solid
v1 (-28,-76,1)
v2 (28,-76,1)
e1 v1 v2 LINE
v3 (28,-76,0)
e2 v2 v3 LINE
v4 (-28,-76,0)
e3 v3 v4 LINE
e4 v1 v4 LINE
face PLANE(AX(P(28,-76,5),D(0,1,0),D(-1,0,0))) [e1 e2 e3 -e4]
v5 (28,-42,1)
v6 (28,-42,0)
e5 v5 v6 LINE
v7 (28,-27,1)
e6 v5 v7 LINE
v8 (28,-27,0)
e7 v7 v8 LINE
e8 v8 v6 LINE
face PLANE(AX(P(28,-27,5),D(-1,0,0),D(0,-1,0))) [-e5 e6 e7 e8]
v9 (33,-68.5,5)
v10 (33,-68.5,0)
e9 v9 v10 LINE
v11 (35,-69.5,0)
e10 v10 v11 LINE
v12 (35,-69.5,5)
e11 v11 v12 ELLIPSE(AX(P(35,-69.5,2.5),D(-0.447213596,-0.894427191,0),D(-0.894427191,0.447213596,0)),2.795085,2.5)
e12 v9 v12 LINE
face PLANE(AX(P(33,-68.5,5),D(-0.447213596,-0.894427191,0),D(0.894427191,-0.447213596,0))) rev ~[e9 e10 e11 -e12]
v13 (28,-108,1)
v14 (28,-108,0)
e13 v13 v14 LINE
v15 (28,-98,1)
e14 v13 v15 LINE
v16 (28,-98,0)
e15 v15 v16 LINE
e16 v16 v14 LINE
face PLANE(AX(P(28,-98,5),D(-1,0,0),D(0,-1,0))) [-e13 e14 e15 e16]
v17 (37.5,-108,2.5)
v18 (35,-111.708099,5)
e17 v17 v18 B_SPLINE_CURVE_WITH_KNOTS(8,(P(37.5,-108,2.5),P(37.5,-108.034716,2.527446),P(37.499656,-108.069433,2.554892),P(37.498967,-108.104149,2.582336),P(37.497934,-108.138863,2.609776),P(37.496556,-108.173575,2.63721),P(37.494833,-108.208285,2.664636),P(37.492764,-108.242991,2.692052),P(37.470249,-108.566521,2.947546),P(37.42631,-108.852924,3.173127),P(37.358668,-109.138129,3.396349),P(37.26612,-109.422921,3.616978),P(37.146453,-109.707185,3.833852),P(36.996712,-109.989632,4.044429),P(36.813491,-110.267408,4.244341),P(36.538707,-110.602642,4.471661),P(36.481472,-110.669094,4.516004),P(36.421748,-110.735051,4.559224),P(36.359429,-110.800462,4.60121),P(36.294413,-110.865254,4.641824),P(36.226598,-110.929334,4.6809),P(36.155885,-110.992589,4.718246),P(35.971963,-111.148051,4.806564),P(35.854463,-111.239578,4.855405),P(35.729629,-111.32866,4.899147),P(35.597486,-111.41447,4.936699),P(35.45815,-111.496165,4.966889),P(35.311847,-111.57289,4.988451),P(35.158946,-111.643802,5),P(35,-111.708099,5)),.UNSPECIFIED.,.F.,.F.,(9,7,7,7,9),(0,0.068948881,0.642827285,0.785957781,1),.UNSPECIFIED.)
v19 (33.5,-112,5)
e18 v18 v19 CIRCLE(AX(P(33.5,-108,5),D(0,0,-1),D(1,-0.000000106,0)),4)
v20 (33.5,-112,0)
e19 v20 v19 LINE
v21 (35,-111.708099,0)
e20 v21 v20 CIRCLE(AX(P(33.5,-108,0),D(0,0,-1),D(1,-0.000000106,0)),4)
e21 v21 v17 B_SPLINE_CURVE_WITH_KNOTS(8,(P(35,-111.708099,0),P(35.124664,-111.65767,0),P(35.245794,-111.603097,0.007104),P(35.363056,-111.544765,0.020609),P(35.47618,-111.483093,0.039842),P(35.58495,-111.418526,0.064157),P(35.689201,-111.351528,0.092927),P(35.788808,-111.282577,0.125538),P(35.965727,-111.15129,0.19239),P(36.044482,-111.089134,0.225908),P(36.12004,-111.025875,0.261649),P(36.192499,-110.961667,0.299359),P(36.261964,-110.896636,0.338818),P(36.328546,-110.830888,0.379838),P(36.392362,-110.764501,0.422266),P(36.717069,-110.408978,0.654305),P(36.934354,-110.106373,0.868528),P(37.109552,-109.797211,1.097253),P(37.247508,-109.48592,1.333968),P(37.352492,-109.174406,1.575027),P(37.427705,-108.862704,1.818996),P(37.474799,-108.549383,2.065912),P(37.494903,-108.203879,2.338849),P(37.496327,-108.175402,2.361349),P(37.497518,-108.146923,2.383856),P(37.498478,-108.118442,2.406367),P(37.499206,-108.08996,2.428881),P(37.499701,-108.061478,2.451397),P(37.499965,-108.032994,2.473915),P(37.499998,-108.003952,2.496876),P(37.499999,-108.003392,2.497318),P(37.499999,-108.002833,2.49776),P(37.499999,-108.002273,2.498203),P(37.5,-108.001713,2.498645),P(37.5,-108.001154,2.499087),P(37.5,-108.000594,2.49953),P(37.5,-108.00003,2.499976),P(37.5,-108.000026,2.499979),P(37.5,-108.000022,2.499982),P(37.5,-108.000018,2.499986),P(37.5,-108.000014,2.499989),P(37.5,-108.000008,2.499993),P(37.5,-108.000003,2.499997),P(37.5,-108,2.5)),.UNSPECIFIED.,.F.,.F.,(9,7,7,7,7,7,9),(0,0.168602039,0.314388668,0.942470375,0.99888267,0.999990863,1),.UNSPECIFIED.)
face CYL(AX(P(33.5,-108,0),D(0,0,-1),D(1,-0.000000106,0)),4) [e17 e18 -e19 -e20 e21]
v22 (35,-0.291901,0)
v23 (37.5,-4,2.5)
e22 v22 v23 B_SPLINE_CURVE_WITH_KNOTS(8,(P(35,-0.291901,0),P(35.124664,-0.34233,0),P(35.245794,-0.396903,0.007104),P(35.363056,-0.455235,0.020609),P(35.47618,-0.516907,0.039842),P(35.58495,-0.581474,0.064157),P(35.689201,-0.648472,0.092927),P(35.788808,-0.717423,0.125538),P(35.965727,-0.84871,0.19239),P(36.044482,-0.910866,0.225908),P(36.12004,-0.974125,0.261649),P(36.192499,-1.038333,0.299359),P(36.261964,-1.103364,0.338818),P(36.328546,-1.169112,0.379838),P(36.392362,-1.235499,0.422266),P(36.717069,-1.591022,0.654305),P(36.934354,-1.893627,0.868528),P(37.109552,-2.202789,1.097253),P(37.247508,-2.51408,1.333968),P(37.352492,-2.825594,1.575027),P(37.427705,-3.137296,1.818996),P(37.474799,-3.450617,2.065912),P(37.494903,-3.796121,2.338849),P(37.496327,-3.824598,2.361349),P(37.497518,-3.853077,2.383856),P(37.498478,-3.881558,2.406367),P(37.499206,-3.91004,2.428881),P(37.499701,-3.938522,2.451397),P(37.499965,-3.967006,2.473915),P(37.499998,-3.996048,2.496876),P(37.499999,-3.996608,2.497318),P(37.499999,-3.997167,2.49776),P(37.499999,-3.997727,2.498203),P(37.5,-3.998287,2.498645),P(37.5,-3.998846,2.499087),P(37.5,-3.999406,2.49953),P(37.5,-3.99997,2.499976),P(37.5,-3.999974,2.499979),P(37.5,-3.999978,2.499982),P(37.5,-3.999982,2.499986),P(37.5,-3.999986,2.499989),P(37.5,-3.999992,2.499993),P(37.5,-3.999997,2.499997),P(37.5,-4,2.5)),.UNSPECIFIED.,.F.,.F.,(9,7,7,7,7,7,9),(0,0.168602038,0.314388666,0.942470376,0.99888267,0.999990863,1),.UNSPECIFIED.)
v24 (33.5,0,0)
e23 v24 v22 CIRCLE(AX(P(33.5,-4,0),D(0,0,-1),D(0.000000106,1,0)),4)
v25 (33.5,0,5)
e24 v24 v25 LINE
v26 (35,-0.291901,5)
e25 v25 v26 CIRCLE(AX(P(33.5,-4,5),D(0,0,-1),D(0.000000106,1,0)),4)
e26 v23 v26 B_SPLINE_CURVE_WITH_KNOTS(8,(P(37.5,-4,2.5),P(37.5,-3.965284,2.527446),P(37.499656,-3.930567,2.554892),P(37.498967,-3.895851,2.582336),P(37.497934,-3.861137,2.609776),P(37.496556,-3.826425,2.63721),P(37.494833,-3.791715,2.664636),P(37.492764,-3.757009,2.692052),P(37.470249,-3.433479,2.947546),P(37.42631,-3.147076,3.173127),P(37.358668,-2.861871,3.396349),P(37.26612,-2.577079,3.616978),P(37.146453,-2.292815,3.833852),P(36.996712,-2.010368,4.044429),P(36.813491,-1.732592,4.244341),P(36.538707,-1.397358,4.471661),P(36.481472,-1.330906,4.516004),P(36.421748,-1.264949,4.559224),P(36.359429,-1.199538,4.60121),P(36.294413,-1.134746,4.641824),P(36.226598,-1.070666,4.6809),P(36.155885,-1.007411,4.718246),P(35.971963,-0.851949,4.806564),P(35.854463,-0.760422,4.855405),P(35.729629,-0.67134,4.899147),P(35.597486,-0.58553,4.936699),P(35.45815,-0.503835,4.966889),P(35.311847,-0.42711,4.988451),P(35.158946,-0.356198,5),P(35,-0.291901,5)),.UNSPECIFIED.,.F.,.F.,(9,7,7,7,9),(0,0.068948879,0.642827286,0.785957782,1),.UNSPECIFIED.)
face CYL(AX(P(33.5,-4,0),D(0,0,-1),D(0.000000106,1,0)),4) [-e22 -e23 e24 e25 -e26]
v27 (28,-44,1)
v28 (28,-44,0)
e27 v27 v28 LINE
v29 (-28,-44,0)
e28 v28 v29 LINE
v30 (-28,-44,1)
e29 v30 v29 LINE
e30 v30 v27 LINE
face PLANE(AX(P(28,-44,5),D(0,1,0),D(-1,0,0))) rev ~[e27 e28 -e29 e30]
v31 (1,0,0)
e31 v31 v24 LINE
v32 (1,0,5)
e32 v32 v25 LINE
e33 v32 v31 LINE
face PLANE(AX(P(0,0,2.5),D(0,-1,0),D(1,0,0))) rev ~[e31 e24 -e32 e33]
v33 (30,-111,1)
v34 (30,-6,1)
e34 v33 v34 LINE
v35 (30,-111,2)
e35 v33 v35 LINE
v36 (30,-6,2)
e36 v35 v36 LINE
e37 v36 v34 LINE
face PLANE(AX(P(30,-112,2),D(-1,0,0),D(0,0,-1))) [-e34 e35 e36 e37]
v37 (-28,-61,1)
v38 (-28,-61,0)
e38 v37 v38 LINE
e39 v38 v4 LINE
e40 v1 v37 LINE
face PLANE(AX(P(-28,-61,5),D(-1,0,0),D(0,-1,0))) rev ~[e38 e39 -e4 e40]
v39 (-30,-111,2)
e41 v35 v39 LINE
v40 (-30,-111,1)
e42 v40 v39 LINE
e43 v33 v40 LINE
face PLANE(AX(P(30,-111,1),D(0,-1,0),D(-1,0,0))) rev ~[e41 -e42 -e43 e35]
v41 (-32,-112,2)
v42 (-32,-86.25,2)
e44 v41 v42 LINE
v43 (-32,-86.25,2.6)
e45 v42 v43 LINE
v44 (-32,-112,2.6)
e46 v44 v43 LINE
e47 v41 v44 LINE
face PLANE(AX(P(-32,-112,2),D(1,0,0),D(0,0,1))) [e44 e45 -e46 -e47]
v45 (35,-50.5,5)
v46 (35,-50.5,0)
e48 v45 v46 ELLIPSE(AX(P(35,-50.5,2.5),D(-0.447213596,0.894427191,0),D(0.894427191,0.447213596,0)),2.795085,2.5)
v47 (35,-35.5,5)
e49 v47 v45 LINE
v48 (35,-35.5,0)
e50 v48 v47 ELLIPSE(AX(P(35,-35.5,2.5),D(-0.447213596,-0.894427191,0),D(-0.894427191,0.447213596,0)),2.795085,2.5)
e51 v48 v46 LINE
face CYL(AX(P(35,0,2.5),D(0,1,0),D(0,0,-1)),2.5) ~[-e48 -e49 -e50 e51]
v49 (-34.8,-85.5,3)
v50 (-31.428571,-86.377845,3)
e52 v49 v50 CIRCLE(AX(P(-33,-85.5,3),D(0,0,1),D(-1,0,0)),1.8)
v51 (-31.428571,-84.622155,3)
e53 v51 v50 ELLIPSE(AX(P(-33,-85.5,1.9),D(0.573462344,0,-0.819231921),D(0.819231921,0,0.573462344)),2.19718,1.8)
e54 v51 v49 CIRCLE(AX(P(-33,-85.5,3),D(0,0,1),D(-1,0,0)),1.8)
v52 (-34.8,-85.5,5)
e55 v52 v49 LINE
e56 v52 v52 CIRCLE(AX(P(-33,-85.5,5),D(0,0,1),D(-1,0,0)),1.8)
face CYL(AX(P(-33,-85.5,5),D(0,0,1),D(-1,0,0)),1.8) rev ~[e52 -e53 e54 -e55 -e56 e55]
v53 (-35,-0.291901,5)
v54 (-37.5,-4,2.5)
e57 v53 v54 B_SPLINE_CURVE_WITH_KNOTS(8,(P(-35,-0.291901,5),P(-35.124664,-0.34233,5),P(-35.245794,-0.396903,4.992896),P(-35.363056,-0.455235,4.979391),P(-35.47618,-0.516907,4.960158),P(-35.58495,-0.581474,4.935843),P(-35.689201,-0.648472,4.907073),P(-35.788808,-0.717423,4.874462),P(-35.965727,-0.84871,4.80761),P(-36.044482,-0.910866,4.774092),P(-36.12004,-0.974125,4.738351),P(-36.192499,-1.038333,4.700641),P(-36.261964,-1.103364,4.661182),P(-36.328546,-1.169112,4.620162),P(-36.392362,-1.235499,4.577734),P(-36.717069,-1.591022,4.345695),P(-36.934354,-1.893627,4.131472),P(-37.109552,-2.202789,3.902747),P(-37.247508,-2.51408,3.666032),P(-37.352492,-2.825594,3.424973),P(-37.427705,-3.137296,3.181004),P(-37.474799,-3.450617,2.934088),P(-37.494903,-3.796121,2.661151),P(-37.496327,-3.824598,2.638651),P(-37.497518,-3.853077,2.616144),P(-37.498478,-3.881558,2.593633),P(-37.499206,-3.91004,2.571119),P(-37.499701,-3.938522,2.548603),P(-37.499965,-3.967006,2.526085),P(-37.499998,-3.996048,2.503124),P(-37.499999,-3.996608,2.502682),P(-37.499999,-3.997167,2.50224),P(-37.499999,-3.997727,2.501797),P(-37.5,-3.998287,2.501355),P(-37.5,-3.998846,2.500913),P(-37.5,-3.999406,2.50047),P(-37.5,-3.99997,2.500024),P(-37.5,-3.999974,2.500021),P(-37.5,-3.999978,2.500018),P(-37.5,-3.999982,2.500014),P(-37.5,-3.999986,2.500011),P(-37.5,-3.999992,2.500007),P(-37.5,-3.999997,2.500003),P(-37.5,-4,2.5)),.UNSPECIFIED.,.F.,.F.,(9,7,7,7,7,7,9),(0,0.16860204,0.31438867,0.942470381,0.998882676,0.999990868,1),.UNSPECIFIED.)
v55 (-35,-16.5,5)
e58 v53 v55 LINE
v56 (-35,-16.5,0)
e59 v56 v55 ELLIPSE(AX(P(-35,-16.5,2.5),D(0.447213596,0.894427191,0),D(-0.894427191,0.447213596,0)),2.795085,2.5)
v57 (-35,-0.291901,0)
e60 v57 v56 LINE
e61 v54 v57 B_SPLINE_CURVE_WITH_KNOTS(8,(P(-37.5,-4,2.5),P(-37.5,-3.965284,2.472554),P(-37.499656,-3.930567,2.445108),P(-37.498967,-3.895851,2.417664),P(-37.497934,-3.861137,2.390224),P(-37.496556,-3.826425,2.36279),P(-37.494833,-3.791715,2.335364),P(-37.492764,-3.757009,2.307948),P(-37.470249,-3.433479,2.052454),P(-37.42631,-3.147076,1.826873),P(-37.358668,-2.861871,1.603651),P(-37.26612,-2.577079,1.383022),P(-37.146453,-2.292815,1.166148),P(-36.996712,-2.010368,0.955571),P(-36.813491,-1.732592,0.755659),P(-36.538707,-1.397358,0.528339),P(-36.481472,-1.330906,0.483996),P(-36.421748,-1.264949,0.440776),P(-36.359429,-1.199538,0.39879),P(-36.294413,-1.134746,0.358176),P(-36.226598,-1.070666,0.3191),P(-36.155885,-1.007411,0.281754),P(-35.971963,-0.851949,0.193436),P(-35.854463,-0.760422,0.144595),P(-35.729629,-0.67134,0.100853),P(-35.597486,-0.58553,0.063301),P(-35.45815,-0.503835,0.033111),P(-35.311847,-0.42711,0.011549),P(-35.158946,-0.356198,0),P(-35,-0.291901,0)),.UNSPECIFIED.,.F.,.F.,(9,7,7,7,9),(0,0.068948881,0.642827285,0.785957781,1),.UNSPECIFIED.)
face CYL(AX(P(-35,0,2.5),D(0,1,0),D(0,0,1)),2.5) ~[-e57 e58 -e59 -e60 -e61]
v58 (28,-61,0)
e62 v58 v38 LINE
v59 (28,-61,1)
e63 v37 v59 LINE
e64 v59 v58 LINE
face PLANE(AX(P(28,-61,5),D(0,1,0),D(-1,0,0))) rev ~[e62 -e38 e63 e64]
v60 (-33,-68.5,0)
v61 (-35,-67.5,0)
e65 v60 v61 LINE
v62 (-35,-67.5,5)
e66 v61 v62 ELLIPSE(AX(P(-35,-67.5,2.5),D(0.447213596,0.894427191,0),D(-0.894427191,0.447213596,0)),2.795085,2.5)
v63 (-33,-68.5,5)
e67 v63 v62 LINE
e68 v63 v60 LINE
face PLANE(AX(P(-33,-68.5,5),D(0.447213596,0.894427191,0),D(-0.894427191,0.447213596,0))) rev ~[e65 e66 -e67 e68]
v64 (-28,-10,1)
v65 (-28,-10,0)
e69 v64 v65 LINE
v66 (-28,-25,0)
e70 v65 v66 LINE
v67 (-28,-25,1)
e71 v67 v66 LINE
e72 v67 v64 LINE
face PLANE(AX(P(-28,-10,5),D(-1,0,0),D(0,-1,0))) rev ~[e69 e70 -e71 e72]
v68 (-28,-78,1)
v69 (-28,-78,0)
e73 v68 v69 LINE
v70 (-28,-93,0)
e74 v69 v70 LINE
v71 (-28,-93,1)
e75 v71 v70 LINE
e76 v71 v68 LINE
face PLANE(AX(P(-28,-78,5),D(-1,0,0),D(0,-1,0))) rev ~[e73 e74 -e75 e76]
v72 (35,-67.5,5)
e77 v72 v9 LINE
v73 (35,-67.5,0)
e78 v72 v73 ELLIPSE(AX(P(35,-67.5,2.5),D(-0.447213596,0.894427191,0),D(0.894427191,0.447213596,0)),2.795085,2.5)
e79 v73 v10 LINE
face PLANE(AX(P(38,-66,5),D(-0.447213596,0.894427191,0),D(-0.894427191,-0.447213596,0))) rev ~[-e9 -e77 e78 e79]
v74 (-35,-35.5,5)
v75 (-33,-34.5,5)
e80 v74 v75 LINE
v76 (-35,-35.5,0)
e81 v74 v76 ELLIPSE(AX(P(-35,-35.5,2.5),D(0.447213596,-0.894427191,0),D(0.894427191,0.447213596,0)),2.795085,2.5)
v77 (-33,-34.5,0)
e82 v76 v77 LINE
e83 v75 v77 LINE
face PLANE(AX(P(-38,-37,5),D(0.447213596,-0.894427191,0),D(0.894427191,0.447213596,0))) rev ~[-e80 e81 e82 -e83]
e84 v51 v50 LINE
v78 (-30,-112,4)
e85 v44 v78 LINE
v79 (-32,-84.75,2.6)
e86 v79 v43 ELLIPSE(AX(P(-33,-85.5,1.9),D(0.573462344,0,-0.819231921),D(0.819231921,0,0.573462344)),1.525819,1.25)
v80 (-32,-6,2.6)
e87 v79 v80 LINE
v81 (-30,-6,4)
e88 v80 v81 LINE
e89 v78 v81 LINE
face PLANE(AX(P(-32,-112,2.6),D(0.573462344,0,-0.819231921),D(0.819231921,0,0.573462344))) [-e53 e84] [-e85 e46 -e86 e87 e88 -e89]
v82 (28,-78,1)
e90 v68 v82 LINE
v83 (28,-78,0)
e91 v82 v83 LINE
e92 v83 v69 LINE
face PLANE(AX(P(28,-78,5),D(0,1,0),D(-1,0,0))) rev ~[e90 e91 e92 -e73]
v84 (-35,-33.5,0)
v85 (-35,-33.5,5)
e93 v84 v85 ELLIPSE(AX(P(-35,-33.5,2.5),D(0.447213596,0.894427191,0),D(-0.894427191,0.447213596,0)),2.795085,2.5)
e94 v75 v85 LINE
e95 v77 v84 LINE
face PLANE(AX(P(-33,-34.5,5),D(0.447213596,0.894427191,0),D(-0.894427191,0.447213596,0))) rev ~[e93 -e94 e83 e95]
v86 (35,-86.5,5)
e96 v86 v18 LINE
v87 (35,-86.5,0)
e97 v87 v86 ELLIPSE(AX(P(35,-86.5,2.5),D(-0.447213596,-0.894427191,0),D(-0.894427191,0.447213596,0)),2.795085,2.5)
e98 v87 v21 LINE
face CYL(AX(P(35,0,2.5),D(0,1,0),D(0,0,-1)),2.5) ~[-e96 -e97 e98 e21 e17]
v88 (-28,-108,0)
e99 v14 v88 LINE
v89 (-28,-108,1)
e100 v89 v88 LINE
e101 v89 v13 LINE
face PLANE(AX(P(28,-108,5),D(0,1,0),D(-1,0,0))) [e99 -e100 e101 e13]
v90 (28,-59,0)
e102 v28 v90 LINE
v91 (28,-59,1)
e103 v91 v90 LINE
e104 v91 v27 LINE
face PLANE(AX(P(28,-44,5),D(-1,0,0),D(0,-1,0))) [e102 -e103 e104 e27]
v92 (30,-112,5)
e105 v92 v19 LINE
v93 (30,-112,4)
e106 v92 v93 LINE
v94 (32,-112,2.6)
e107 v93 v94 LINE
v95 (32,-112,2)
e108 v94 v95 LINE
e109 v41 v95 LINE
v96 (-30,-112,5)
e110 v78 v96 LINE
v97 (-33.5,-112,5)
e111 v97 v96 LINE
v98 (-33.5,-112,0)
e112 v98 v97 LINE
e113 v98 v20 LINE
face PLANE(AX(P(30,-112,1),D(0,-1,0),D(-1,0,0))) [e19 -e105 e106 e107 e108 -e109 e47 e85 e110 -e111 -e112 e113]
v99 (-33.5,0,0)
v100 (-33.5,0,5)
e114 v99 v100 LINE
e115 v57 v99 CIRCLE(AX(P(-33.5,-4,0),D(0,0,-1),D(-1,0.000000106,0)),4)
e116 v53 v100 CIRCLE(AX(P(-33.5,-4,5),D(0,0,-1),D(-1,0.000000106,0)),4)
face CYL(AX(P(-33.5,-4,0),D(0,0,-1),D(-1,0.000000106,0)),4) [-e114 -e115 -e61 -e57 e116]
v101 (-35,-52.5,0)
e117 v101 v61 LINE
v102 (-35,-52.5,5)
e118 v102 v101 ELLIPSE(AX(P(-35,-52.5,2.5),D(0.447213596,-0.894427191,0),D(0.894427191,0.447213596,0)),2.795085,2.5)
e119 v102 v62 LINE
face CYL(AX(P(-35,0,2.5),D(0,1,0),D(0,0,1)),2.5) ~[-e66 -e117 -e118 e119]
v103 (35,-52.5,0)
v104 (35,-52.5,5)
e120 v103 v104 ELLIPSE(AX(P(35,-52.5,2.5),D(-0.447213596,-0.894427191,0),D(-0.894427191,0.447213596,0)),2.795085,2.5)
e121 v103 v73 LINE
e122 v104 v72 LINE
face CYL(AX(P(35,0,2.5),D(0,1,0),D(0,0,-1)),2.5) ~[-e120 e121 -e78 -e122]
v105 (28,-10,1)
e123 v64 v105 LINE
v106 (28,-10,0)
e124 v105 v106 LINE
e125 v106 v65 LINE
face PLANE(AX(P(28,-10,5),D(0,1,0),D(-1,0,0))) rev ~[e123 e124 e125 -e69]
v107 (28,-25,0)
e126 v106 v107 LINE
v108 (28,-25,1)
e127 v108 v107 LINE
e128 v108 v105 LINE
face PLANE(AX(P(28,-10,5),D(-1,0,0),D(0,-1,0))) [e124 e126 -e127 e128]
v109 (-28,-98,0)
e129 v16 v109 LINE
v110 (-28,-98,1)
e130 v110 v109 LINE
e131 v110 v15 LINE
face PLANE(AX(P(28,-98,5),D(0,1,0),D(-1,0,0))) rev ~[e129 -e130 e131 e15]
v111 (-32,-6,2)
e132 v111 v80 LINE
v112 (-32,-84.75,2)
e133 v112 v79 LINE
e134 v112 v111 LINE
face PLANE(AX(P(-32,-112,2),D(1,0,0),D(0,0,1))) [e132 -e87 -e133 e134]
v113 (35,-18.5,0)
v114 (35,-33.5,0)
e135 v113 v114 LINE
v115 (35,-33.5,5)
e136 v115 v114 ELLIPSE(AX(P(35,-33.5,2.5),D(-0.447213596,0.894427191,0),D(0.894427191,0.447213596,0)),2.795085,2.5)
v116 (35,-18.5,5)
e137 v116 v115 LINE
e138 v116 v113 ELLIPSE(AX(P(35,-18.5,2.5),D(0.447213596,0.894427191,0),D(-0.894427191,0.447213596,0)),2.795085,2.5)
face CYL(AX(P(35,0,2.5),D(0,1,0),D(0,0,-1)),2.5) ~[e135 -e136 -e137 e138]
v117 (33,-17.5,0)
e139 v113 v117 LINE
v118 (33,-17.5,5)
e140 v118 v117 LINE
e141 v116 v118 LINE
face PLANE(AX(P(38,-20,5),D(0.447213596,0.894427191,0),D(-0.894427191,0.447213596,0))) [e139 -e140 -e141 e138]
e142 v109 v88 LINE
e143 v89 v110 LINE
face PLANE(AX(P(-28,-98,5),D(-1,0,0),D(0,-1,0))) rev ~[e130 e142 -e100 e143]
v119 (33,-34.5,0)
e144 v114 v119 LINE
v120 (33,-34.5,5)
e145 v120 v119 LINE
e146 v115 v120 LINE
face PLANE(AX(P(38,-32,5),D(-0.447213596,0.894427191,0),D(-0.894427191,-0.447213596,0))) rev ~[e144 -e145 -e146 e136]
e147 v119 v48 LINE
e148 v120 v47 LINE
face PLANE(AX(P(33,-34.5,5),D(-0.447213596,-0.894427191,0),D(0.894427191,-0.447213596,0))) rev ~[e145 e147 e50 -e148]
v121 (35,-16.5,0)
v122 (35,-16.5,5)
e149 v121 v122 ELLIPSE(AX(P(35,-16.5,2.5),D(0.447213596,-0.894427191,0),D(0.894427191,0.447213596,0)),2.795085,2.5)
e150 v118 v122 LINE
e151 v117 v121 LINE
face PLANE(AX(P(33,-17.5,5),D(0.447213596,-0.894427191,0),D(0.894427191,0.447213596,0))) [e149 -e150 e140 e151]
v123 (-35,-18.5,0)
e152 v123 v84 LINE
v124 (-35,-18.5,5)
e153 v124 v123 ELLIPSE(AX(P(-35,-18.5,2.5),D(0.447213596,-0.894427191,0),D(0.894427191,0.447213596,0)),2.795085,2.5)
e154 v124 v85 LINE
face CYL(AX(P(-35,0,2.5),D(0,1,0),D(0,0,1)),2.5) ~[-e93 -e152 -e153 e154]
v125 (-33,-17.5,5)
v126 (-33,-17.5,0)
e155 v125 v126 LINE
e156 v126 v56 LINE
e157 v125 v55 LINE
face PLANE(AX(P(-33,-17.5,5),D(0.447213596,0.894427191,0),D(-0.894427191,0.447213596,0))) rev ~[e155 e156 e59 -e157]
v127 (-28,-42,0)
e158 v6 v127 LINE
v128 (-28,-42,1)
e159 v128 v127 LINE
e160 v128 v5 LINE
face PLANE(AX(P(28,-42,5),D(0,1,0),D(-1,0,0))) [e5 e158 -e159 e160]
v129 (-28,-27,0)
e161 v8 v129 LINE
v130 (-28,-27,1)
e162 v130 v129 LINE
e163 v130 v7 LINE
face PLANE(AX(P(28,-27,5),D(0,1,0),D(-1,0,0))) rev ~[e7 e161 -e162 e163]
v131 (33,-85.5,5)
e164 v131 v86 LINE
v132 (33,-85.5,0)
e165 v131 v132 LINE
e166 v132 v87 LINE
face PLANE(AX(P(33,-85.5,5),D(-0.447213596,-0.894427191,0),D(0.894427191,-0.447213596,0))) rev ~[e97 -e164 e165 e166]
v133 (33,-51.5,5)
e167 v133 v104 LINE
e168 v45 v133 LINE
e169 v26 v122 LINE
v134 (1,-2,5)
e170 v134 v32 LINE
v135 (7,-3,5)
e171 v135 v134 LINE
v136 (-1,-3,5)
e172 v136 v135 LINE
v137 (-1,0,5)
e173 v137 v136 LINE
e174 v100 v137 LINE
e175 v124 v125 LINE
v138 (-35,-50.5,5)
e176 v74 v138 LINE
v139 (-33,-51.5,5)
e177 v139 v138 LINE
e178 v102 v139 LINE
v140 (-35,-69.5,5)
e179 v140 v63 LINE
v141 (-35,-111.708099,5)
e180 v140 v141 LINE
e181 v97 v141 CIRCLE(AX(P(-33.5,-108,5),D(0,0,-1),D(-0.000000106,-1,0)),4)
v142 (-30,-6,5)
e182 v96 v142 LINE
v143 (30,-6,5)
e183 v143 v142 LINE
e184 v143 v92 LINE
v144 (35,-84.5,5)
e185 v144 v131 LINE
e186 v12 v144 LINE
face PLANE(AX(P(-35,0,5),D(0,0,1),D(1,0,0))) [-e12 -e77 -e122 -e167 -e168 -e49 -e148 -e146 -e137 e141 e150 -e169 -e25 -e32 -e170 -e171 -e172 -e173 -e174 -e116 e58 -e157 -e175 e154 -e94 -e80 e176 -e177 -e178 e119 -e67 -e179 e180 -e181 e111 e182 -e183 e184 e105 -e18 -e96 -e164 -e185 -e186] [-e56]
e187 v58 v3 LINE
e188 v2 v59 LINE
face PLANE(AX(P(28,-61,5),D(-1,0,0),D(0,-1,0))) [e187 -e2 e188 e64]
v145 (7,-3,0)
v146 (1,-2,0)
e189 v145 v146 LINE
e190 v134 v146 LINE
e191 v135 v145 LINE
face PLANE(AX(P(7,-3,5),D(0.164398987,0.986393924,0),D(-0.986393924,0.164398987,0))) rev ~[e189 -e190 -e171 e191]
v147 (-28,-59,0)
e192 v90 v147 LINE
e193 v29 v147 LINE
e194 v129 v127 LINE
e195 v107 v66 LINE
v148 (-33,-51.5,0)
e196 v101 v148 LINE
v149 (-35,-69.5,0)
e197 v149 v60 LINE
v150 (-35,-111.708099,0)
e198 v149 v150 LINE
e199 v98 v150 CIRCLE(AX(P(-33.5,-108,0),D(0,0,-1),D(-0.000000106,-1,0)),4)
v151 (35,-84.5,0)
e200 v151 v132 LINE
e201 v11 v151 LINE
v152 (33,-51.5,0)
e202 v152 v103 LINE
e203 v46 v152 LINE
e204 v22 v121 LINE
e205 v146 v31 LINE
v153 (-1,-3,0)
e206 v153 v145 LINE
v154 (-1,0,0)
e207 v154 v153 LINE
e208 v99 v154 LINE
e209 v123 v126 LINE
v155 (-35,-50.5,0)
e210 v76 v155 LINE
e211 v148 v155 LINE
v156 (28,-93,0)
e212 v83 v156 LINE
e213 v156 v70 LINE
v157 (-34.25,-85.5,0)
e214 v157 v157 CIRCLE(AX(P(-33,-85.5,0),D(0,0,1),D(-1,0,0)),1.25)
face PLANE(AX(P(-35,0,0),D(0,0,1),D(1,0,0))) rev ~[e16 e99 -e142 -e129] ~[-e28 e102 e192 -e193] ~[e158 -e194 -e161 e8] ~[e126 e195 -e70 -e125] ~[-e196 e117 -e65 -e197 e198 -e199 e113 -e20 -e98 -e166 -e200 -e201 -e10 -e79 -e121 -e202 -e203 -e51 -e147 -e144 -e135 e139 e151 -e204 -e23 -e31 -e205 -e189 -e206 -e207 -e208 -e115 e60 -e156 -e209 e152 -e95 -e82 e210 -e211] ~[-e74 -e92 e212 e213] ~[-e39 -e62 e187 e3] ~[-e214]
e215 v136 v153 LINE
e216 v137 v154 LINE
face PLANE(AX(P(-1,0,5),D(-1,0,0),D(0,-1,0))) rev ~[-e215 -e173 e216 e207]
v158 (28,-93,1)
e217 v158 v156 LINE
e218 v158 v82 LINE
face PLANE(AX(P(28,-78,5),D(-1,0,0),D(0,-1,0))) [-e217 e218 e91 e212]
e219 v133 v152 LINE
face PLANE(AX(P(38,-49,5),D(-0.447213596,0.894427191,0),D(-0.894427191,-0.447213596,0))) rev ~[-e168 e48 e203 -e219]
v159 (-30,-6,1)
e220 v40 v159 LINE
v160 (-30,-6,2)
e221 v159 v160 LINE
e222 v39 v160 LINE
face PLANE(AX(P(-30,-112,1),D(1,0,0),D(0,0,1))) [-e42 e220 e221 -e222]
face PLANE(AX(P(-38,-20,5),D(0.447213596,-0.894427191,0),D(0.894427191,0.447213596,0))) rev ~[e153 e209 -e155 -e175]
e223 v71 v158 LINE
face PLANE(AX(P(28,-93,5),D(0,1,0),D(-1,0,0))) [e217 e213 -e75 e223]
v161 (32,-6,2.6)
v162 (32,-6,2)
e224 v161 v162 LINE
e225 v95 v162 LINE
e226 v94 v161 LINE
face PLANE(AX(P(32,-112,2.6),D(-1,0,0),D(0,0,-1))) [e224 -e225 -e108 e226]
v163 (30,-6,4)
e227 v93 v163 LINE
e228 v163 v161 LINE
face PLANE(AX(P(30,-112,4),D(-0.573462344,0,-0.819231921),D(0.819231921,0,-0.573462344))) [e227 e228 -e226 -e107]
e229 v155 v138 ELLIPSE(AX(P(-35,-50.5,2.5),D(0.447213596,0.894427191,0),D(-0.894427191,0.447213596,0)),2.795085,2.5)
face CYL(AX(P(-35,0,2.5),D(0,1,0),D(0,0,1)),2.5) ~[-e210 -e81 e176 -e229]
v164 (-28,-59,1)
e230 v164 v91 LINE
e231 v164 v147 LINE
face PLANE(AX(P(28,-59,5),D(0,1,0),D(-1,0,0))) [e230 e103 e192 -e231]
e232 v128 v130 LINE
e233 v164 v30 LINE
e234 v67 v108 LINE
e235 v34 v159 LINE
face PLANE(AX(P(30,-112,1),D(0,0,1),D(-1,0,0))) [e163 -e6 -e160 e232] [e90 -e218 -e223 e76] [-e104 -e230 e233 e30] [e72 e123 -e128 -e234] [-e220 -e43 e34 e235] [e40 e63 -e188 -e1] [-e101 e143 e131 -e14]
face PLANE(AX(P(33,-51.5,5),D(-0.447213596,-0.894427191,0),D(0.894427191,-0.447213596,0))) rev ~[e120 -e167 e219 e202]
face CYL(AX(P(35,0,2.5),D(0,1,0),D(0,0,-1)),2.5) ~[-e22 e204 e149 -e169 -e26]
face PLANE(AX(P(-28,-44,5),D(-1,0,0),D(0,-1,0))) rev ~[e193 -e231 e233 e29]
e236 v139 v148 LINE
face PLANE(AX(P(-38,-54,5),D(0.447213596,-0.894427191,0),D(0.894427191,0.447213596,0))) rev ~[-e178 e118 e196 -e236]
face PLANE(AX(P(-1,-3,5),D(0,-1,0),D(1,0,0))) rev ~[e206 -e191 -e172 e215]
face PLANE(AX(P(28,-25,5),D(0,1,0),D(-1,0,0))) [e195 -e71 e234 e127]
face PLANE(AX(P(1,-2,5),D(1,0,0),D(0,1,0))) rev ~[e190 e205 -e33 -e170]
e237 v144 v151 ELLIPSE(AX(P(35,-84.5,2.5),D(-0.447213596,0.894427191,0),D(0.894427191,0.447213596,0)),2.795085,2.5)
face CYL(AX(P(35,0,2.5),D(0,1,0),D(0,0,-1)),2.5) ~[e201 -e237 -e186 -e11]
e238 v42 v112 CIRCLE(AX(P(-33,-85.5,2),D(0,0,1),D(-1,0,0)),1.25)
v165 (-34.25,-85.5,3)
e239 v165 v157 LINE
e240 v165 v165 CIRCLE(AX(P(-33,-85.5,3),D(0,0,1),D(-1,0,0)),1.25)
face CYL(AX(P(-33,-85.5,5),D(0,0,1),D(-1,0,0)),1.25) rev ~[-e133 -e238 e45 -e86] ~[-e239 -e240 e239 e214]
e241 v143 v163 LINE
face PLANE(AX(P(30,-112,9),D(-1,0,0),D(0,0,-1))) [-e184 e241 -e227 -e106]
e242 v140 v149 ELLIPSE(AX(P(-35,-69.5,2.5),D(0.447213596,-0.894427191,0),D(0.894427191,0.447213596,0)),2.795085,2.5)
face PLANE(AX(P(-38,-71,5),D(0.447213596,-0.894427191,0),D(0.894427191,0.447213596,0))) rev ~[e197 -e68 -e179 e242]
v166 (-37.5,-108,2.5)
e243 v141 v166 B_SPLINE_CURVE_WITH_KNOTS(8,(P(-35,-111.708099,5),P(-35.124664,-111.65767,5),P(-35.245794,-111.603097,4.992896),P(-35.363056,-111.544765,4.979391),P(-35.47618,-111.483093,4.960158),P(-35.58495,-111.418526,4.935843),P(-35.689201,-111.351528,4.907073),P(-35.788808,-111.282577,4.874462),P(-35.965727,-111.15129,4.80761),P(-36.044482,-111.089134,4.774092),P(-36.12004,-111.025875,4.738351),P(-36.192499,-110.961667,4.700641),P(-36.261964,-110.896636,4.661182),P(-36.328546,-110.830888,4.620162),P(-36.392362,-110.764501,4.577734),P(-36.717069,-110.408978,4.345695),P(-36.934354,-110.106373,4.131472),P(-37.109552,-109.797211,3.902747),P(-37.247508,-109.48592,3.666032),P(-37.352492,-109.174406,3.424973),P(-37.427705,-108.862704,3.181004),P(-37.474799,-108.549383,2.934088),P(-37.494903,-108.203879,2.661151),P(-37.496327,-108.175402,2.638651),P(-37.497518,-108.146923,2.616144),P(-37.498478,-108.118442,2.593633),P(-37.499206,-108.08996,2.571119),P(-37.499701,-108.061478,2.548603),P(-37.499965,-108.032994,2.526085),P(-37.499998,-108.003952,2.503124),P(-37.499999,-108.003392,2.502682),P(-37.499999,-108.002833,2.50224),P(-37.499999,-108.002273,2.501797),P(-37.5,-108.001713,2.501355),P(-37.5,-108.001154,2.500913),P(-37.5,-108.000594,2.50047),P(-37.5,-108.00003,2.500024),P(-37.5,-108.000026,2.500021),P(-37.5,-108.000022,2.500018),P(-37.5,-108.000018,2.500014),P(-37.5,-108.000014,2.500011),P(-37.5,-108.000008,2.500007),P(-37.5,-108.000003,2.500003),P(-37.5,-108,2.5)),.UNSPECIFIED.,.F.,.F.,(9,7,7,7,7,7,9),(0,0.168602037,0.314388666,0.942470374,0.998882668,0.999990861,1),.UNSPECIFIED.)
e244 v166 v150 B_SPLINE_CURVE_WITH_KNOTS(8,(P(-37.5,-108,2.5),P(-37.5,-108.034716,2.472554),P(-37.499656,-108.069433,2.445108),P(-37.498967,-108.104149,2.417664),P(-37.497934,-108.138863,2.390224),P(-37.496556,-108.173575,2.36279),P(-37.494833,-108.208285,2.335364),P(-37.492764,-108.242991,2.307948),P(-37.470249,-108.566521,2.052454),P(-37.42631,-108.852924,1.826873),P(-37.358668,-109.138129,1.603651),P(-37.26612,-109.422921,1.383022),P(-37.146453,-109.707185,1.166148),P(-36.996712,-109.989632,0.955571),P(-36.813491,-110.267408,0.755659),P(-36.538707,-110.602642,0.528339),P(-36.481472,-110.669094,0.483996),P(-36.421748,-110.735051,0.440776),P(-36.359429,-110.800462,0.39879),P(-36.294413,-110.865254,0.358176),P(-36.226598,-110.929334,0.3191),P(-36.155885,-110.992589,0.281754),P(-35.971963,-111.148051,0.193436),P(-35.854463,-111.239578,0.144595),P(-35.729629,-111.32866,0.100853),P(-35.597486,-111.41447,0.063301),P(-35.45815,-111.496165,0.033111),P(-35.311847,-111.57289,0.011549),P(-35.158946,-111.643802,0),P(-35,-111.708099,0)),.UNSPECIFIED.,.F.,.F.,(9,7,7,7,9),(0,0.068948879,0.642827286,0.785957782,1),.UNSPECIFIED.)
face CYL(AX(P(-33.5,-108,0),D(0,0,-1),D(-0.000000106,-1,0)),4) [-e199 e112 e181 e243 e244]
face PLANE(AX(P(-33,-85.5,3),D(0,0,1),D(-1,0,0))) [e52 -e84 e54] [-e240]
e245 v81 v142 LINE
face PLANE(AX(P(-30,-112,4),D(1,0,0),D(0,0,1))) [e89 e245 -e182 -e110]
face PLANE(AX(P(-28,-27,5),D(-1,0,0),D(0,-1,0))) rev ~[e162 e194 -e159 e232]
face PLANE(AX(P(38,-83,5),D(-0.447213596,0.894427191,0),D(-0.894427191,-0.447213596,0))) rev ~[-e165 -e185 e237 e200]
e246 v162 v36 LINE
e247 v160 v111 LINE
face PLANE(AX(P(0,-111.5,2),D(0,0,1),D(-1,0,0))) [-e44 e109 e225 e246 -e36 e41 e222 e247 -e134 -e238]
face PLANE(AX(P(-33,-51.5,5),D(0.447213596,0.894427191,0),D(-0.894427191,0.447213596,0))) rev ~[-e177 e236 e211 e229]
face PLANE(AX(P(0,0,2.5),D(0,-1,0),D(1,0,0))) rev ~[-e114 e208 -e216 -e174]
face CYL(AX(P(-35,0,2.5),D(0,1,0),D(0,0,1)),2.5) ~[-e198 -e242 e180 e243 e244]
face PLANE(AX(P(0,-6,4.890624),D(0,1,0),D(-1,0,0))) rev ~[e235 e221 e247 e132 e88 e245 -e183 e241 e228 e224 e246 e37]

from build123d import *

# Parameters (mm, degrees)
PAD_DEPTH       = 112
SKETCH001_W     = 56
SKETCH001_H     = 10
SKETCH001_H_2   = 15
POCKET_DEPTH    = 5.001
POCKET001_DEPTH = 106
SKETCH003_R     = 1.25
POCKET002_DEPTH = 5.001
POCKET003_DEPTH = 5.001
SKETCH005_R     = 1.8
POCKET004_DEPTH = 2
SKETCH006_W     = 60
SKETCH006_H     = 1
PAD001_DEPTH    = 1


with BuildPart() as part:
    # Sketch → Pad (new body)
    with BuildSketch(Plane.XZ):
        with BuildLine():
            ThreePointArc((-35, 5), (-37.5, 2.5), (-35, 0))
            Line((-35, 0), (35, 0))
            ThreePointArc((35, 0), (37.5, 2.5), (35, 5))
            Line((-35, 5), (35, 5))
        make_face()
    extrude(amount=PAD_DEPTH)

    # Sketch001 (on DatumPlane) → Pocket (cut, through all)
    with BuildSketch(Plane(origin=(0, 0, 5), x_dir=(-1, 0, 0), z_dir=(0, 0, 1))):
        with Locations((0, 103)):
            Rectangle(SKETCH001_W, SKETCH001_H)
        with Locations((0, 85.5)):
            Rectangle(SKETCH001_W, SKETCH001_H_2)
        with Locations((0, 68.5)):
            Rectangle(SKETCH001_W, SKETCH001_H_2)
        with Locations((0, 51.5)):
            Rectangle(SKETCH001_W, SKETCH001_H_2)
        with Locations((0, 34.5)):
            Rectangle(SKETCH001_W, SKETCH001_H_2)
        with Locations((0, 17.5)):
            Rectangle(SKETCH001_W, SKETCH001_H_2)
    extrude(amount=-POCKET_DEPTH, mode=Mode.SUBTRACT)

    # Sketch002 (on DatumPlane) → Pocket001 (cut)
    with BuildSketch(Plane.XZ.offset(112)):
        Polygon((-30, 9), (30, 9), (30, 4), (32, 2.6), (32, 2), (30, 2), (30, 1), (-30, 1), (-30, 2), (-32, 2), (-32, 2.6), (-30, 4), align=None)
    extrude(amount=-POCKET001_DEPTH, mode=Mode.SUBTRACT)

    # Sketch003 (on DatumPlane) → Pocket002 (cut, through all)
    with BuildSketch(Plane(origin=(0, 0, 5), x_dir=(-1, 0, 0), z_dir=(0, 0, 1))):
        with Locations((33, 85.5)):
            Circle(SKETCH003_R)
        Polygon((-38, 20), (-33, 17.5), (-38, 15), align=None)
        Polygon((-38, 32), (-33, 34.5), (-38, 37), align=None)
        Polygon((38, 20), (33, 17.5), (38, 15), align=None)
        Polygon((-38, 54), (-38, 49), (-33, 51.5), align=None)
        Polygon((-38, 71), (-38, 66), (-33, 68.5), align=None)
        Polygon((-38, 88), (-38, 83), (-33, 85.5), align=None)
        Polygon((38, 32), (38, 37), (33, 34.5), align=None)
        Polygon((38, 49), (38, 54), (33, 51.5), align=None)
        Polygon((38, 66), (38, 71), (33, 68.5), align=None)
        Polygon((-1, 0), (1, 0), (1, 3), (-7, 3), (-1, 2), align=None)
    extrude(amount=-POCKET002_DEPTH, mode=Mode.SUBTRACT)

    # Sketch004 (on DatumPlane) → Pocket003 (cut, through all)
    with BuildSketch(Plane(origin=(0, 0, 0), x_dir=(1, 0, 0), z_dir=(0, 0, -1))):
        with BuildLine():
            ThreePointArc((-37.5, 4), (-36.328427, 1.171573), (-33.5, 0))
            Line((-37.5, 0), (-33.5, 0))
            Line((-37.5, 4), (-37.5, 0))
        make_face()
        with BuildLine():
            ThreePointArc((33.5, 0), (36.328427, 1.171573), (37.5, 4))
            Line((37.5, 0), (37.5, 4))
            Line((33.5, 0), (37.5, 0))
        make_face()
        with BuildLine():
            ThreePointArc((-33.5, 112), (-36.328427, 110.828427), (-37.5, 108))
            Line((-37.5, 112), (-37.5, 108))
            Line((-33.5, 112), (-37.5, 112))
        make_face()
        with BuildLine():
            ThreePointArc((37.5, 108), (36.328427, 110.828427), (33.5, 112))
            Line((33.5, 112), (37.5, 112))
            Line((37.5, 112), (37.5, 108))
        make_face()
    extrude(amount=-POCKET003_DEPTH, mode=Mode.SUBTRACT)

    # Sketch005 (on DatumPlane) → Pocket004 (cut)
    with BuildSketch(Plane(origin=(0, 0, 5), x_dir=(-1, 0, 0), z_dir=(0, 0, 1))):
        with Locations((33, 85.5)):
            Circle(SKETCH005_R)
    extrude(amount=-POCKET004_DEPTH, mode=Mode.SUBTRACT)

    # Sketch006 (on DatumPlane) → Pad001 (join)
    with BuildSketch(Plane(origin=(0, 0, 1), x_dir=(-1, 0, 0), z_dir=(0, 0, 1))):
        with Locations((0, 111.5)):
            Rectangle(SKETCH006_W, SKETCH006_H)
    extrude(amount=PAD001_DEPTH)


solid = part.part
